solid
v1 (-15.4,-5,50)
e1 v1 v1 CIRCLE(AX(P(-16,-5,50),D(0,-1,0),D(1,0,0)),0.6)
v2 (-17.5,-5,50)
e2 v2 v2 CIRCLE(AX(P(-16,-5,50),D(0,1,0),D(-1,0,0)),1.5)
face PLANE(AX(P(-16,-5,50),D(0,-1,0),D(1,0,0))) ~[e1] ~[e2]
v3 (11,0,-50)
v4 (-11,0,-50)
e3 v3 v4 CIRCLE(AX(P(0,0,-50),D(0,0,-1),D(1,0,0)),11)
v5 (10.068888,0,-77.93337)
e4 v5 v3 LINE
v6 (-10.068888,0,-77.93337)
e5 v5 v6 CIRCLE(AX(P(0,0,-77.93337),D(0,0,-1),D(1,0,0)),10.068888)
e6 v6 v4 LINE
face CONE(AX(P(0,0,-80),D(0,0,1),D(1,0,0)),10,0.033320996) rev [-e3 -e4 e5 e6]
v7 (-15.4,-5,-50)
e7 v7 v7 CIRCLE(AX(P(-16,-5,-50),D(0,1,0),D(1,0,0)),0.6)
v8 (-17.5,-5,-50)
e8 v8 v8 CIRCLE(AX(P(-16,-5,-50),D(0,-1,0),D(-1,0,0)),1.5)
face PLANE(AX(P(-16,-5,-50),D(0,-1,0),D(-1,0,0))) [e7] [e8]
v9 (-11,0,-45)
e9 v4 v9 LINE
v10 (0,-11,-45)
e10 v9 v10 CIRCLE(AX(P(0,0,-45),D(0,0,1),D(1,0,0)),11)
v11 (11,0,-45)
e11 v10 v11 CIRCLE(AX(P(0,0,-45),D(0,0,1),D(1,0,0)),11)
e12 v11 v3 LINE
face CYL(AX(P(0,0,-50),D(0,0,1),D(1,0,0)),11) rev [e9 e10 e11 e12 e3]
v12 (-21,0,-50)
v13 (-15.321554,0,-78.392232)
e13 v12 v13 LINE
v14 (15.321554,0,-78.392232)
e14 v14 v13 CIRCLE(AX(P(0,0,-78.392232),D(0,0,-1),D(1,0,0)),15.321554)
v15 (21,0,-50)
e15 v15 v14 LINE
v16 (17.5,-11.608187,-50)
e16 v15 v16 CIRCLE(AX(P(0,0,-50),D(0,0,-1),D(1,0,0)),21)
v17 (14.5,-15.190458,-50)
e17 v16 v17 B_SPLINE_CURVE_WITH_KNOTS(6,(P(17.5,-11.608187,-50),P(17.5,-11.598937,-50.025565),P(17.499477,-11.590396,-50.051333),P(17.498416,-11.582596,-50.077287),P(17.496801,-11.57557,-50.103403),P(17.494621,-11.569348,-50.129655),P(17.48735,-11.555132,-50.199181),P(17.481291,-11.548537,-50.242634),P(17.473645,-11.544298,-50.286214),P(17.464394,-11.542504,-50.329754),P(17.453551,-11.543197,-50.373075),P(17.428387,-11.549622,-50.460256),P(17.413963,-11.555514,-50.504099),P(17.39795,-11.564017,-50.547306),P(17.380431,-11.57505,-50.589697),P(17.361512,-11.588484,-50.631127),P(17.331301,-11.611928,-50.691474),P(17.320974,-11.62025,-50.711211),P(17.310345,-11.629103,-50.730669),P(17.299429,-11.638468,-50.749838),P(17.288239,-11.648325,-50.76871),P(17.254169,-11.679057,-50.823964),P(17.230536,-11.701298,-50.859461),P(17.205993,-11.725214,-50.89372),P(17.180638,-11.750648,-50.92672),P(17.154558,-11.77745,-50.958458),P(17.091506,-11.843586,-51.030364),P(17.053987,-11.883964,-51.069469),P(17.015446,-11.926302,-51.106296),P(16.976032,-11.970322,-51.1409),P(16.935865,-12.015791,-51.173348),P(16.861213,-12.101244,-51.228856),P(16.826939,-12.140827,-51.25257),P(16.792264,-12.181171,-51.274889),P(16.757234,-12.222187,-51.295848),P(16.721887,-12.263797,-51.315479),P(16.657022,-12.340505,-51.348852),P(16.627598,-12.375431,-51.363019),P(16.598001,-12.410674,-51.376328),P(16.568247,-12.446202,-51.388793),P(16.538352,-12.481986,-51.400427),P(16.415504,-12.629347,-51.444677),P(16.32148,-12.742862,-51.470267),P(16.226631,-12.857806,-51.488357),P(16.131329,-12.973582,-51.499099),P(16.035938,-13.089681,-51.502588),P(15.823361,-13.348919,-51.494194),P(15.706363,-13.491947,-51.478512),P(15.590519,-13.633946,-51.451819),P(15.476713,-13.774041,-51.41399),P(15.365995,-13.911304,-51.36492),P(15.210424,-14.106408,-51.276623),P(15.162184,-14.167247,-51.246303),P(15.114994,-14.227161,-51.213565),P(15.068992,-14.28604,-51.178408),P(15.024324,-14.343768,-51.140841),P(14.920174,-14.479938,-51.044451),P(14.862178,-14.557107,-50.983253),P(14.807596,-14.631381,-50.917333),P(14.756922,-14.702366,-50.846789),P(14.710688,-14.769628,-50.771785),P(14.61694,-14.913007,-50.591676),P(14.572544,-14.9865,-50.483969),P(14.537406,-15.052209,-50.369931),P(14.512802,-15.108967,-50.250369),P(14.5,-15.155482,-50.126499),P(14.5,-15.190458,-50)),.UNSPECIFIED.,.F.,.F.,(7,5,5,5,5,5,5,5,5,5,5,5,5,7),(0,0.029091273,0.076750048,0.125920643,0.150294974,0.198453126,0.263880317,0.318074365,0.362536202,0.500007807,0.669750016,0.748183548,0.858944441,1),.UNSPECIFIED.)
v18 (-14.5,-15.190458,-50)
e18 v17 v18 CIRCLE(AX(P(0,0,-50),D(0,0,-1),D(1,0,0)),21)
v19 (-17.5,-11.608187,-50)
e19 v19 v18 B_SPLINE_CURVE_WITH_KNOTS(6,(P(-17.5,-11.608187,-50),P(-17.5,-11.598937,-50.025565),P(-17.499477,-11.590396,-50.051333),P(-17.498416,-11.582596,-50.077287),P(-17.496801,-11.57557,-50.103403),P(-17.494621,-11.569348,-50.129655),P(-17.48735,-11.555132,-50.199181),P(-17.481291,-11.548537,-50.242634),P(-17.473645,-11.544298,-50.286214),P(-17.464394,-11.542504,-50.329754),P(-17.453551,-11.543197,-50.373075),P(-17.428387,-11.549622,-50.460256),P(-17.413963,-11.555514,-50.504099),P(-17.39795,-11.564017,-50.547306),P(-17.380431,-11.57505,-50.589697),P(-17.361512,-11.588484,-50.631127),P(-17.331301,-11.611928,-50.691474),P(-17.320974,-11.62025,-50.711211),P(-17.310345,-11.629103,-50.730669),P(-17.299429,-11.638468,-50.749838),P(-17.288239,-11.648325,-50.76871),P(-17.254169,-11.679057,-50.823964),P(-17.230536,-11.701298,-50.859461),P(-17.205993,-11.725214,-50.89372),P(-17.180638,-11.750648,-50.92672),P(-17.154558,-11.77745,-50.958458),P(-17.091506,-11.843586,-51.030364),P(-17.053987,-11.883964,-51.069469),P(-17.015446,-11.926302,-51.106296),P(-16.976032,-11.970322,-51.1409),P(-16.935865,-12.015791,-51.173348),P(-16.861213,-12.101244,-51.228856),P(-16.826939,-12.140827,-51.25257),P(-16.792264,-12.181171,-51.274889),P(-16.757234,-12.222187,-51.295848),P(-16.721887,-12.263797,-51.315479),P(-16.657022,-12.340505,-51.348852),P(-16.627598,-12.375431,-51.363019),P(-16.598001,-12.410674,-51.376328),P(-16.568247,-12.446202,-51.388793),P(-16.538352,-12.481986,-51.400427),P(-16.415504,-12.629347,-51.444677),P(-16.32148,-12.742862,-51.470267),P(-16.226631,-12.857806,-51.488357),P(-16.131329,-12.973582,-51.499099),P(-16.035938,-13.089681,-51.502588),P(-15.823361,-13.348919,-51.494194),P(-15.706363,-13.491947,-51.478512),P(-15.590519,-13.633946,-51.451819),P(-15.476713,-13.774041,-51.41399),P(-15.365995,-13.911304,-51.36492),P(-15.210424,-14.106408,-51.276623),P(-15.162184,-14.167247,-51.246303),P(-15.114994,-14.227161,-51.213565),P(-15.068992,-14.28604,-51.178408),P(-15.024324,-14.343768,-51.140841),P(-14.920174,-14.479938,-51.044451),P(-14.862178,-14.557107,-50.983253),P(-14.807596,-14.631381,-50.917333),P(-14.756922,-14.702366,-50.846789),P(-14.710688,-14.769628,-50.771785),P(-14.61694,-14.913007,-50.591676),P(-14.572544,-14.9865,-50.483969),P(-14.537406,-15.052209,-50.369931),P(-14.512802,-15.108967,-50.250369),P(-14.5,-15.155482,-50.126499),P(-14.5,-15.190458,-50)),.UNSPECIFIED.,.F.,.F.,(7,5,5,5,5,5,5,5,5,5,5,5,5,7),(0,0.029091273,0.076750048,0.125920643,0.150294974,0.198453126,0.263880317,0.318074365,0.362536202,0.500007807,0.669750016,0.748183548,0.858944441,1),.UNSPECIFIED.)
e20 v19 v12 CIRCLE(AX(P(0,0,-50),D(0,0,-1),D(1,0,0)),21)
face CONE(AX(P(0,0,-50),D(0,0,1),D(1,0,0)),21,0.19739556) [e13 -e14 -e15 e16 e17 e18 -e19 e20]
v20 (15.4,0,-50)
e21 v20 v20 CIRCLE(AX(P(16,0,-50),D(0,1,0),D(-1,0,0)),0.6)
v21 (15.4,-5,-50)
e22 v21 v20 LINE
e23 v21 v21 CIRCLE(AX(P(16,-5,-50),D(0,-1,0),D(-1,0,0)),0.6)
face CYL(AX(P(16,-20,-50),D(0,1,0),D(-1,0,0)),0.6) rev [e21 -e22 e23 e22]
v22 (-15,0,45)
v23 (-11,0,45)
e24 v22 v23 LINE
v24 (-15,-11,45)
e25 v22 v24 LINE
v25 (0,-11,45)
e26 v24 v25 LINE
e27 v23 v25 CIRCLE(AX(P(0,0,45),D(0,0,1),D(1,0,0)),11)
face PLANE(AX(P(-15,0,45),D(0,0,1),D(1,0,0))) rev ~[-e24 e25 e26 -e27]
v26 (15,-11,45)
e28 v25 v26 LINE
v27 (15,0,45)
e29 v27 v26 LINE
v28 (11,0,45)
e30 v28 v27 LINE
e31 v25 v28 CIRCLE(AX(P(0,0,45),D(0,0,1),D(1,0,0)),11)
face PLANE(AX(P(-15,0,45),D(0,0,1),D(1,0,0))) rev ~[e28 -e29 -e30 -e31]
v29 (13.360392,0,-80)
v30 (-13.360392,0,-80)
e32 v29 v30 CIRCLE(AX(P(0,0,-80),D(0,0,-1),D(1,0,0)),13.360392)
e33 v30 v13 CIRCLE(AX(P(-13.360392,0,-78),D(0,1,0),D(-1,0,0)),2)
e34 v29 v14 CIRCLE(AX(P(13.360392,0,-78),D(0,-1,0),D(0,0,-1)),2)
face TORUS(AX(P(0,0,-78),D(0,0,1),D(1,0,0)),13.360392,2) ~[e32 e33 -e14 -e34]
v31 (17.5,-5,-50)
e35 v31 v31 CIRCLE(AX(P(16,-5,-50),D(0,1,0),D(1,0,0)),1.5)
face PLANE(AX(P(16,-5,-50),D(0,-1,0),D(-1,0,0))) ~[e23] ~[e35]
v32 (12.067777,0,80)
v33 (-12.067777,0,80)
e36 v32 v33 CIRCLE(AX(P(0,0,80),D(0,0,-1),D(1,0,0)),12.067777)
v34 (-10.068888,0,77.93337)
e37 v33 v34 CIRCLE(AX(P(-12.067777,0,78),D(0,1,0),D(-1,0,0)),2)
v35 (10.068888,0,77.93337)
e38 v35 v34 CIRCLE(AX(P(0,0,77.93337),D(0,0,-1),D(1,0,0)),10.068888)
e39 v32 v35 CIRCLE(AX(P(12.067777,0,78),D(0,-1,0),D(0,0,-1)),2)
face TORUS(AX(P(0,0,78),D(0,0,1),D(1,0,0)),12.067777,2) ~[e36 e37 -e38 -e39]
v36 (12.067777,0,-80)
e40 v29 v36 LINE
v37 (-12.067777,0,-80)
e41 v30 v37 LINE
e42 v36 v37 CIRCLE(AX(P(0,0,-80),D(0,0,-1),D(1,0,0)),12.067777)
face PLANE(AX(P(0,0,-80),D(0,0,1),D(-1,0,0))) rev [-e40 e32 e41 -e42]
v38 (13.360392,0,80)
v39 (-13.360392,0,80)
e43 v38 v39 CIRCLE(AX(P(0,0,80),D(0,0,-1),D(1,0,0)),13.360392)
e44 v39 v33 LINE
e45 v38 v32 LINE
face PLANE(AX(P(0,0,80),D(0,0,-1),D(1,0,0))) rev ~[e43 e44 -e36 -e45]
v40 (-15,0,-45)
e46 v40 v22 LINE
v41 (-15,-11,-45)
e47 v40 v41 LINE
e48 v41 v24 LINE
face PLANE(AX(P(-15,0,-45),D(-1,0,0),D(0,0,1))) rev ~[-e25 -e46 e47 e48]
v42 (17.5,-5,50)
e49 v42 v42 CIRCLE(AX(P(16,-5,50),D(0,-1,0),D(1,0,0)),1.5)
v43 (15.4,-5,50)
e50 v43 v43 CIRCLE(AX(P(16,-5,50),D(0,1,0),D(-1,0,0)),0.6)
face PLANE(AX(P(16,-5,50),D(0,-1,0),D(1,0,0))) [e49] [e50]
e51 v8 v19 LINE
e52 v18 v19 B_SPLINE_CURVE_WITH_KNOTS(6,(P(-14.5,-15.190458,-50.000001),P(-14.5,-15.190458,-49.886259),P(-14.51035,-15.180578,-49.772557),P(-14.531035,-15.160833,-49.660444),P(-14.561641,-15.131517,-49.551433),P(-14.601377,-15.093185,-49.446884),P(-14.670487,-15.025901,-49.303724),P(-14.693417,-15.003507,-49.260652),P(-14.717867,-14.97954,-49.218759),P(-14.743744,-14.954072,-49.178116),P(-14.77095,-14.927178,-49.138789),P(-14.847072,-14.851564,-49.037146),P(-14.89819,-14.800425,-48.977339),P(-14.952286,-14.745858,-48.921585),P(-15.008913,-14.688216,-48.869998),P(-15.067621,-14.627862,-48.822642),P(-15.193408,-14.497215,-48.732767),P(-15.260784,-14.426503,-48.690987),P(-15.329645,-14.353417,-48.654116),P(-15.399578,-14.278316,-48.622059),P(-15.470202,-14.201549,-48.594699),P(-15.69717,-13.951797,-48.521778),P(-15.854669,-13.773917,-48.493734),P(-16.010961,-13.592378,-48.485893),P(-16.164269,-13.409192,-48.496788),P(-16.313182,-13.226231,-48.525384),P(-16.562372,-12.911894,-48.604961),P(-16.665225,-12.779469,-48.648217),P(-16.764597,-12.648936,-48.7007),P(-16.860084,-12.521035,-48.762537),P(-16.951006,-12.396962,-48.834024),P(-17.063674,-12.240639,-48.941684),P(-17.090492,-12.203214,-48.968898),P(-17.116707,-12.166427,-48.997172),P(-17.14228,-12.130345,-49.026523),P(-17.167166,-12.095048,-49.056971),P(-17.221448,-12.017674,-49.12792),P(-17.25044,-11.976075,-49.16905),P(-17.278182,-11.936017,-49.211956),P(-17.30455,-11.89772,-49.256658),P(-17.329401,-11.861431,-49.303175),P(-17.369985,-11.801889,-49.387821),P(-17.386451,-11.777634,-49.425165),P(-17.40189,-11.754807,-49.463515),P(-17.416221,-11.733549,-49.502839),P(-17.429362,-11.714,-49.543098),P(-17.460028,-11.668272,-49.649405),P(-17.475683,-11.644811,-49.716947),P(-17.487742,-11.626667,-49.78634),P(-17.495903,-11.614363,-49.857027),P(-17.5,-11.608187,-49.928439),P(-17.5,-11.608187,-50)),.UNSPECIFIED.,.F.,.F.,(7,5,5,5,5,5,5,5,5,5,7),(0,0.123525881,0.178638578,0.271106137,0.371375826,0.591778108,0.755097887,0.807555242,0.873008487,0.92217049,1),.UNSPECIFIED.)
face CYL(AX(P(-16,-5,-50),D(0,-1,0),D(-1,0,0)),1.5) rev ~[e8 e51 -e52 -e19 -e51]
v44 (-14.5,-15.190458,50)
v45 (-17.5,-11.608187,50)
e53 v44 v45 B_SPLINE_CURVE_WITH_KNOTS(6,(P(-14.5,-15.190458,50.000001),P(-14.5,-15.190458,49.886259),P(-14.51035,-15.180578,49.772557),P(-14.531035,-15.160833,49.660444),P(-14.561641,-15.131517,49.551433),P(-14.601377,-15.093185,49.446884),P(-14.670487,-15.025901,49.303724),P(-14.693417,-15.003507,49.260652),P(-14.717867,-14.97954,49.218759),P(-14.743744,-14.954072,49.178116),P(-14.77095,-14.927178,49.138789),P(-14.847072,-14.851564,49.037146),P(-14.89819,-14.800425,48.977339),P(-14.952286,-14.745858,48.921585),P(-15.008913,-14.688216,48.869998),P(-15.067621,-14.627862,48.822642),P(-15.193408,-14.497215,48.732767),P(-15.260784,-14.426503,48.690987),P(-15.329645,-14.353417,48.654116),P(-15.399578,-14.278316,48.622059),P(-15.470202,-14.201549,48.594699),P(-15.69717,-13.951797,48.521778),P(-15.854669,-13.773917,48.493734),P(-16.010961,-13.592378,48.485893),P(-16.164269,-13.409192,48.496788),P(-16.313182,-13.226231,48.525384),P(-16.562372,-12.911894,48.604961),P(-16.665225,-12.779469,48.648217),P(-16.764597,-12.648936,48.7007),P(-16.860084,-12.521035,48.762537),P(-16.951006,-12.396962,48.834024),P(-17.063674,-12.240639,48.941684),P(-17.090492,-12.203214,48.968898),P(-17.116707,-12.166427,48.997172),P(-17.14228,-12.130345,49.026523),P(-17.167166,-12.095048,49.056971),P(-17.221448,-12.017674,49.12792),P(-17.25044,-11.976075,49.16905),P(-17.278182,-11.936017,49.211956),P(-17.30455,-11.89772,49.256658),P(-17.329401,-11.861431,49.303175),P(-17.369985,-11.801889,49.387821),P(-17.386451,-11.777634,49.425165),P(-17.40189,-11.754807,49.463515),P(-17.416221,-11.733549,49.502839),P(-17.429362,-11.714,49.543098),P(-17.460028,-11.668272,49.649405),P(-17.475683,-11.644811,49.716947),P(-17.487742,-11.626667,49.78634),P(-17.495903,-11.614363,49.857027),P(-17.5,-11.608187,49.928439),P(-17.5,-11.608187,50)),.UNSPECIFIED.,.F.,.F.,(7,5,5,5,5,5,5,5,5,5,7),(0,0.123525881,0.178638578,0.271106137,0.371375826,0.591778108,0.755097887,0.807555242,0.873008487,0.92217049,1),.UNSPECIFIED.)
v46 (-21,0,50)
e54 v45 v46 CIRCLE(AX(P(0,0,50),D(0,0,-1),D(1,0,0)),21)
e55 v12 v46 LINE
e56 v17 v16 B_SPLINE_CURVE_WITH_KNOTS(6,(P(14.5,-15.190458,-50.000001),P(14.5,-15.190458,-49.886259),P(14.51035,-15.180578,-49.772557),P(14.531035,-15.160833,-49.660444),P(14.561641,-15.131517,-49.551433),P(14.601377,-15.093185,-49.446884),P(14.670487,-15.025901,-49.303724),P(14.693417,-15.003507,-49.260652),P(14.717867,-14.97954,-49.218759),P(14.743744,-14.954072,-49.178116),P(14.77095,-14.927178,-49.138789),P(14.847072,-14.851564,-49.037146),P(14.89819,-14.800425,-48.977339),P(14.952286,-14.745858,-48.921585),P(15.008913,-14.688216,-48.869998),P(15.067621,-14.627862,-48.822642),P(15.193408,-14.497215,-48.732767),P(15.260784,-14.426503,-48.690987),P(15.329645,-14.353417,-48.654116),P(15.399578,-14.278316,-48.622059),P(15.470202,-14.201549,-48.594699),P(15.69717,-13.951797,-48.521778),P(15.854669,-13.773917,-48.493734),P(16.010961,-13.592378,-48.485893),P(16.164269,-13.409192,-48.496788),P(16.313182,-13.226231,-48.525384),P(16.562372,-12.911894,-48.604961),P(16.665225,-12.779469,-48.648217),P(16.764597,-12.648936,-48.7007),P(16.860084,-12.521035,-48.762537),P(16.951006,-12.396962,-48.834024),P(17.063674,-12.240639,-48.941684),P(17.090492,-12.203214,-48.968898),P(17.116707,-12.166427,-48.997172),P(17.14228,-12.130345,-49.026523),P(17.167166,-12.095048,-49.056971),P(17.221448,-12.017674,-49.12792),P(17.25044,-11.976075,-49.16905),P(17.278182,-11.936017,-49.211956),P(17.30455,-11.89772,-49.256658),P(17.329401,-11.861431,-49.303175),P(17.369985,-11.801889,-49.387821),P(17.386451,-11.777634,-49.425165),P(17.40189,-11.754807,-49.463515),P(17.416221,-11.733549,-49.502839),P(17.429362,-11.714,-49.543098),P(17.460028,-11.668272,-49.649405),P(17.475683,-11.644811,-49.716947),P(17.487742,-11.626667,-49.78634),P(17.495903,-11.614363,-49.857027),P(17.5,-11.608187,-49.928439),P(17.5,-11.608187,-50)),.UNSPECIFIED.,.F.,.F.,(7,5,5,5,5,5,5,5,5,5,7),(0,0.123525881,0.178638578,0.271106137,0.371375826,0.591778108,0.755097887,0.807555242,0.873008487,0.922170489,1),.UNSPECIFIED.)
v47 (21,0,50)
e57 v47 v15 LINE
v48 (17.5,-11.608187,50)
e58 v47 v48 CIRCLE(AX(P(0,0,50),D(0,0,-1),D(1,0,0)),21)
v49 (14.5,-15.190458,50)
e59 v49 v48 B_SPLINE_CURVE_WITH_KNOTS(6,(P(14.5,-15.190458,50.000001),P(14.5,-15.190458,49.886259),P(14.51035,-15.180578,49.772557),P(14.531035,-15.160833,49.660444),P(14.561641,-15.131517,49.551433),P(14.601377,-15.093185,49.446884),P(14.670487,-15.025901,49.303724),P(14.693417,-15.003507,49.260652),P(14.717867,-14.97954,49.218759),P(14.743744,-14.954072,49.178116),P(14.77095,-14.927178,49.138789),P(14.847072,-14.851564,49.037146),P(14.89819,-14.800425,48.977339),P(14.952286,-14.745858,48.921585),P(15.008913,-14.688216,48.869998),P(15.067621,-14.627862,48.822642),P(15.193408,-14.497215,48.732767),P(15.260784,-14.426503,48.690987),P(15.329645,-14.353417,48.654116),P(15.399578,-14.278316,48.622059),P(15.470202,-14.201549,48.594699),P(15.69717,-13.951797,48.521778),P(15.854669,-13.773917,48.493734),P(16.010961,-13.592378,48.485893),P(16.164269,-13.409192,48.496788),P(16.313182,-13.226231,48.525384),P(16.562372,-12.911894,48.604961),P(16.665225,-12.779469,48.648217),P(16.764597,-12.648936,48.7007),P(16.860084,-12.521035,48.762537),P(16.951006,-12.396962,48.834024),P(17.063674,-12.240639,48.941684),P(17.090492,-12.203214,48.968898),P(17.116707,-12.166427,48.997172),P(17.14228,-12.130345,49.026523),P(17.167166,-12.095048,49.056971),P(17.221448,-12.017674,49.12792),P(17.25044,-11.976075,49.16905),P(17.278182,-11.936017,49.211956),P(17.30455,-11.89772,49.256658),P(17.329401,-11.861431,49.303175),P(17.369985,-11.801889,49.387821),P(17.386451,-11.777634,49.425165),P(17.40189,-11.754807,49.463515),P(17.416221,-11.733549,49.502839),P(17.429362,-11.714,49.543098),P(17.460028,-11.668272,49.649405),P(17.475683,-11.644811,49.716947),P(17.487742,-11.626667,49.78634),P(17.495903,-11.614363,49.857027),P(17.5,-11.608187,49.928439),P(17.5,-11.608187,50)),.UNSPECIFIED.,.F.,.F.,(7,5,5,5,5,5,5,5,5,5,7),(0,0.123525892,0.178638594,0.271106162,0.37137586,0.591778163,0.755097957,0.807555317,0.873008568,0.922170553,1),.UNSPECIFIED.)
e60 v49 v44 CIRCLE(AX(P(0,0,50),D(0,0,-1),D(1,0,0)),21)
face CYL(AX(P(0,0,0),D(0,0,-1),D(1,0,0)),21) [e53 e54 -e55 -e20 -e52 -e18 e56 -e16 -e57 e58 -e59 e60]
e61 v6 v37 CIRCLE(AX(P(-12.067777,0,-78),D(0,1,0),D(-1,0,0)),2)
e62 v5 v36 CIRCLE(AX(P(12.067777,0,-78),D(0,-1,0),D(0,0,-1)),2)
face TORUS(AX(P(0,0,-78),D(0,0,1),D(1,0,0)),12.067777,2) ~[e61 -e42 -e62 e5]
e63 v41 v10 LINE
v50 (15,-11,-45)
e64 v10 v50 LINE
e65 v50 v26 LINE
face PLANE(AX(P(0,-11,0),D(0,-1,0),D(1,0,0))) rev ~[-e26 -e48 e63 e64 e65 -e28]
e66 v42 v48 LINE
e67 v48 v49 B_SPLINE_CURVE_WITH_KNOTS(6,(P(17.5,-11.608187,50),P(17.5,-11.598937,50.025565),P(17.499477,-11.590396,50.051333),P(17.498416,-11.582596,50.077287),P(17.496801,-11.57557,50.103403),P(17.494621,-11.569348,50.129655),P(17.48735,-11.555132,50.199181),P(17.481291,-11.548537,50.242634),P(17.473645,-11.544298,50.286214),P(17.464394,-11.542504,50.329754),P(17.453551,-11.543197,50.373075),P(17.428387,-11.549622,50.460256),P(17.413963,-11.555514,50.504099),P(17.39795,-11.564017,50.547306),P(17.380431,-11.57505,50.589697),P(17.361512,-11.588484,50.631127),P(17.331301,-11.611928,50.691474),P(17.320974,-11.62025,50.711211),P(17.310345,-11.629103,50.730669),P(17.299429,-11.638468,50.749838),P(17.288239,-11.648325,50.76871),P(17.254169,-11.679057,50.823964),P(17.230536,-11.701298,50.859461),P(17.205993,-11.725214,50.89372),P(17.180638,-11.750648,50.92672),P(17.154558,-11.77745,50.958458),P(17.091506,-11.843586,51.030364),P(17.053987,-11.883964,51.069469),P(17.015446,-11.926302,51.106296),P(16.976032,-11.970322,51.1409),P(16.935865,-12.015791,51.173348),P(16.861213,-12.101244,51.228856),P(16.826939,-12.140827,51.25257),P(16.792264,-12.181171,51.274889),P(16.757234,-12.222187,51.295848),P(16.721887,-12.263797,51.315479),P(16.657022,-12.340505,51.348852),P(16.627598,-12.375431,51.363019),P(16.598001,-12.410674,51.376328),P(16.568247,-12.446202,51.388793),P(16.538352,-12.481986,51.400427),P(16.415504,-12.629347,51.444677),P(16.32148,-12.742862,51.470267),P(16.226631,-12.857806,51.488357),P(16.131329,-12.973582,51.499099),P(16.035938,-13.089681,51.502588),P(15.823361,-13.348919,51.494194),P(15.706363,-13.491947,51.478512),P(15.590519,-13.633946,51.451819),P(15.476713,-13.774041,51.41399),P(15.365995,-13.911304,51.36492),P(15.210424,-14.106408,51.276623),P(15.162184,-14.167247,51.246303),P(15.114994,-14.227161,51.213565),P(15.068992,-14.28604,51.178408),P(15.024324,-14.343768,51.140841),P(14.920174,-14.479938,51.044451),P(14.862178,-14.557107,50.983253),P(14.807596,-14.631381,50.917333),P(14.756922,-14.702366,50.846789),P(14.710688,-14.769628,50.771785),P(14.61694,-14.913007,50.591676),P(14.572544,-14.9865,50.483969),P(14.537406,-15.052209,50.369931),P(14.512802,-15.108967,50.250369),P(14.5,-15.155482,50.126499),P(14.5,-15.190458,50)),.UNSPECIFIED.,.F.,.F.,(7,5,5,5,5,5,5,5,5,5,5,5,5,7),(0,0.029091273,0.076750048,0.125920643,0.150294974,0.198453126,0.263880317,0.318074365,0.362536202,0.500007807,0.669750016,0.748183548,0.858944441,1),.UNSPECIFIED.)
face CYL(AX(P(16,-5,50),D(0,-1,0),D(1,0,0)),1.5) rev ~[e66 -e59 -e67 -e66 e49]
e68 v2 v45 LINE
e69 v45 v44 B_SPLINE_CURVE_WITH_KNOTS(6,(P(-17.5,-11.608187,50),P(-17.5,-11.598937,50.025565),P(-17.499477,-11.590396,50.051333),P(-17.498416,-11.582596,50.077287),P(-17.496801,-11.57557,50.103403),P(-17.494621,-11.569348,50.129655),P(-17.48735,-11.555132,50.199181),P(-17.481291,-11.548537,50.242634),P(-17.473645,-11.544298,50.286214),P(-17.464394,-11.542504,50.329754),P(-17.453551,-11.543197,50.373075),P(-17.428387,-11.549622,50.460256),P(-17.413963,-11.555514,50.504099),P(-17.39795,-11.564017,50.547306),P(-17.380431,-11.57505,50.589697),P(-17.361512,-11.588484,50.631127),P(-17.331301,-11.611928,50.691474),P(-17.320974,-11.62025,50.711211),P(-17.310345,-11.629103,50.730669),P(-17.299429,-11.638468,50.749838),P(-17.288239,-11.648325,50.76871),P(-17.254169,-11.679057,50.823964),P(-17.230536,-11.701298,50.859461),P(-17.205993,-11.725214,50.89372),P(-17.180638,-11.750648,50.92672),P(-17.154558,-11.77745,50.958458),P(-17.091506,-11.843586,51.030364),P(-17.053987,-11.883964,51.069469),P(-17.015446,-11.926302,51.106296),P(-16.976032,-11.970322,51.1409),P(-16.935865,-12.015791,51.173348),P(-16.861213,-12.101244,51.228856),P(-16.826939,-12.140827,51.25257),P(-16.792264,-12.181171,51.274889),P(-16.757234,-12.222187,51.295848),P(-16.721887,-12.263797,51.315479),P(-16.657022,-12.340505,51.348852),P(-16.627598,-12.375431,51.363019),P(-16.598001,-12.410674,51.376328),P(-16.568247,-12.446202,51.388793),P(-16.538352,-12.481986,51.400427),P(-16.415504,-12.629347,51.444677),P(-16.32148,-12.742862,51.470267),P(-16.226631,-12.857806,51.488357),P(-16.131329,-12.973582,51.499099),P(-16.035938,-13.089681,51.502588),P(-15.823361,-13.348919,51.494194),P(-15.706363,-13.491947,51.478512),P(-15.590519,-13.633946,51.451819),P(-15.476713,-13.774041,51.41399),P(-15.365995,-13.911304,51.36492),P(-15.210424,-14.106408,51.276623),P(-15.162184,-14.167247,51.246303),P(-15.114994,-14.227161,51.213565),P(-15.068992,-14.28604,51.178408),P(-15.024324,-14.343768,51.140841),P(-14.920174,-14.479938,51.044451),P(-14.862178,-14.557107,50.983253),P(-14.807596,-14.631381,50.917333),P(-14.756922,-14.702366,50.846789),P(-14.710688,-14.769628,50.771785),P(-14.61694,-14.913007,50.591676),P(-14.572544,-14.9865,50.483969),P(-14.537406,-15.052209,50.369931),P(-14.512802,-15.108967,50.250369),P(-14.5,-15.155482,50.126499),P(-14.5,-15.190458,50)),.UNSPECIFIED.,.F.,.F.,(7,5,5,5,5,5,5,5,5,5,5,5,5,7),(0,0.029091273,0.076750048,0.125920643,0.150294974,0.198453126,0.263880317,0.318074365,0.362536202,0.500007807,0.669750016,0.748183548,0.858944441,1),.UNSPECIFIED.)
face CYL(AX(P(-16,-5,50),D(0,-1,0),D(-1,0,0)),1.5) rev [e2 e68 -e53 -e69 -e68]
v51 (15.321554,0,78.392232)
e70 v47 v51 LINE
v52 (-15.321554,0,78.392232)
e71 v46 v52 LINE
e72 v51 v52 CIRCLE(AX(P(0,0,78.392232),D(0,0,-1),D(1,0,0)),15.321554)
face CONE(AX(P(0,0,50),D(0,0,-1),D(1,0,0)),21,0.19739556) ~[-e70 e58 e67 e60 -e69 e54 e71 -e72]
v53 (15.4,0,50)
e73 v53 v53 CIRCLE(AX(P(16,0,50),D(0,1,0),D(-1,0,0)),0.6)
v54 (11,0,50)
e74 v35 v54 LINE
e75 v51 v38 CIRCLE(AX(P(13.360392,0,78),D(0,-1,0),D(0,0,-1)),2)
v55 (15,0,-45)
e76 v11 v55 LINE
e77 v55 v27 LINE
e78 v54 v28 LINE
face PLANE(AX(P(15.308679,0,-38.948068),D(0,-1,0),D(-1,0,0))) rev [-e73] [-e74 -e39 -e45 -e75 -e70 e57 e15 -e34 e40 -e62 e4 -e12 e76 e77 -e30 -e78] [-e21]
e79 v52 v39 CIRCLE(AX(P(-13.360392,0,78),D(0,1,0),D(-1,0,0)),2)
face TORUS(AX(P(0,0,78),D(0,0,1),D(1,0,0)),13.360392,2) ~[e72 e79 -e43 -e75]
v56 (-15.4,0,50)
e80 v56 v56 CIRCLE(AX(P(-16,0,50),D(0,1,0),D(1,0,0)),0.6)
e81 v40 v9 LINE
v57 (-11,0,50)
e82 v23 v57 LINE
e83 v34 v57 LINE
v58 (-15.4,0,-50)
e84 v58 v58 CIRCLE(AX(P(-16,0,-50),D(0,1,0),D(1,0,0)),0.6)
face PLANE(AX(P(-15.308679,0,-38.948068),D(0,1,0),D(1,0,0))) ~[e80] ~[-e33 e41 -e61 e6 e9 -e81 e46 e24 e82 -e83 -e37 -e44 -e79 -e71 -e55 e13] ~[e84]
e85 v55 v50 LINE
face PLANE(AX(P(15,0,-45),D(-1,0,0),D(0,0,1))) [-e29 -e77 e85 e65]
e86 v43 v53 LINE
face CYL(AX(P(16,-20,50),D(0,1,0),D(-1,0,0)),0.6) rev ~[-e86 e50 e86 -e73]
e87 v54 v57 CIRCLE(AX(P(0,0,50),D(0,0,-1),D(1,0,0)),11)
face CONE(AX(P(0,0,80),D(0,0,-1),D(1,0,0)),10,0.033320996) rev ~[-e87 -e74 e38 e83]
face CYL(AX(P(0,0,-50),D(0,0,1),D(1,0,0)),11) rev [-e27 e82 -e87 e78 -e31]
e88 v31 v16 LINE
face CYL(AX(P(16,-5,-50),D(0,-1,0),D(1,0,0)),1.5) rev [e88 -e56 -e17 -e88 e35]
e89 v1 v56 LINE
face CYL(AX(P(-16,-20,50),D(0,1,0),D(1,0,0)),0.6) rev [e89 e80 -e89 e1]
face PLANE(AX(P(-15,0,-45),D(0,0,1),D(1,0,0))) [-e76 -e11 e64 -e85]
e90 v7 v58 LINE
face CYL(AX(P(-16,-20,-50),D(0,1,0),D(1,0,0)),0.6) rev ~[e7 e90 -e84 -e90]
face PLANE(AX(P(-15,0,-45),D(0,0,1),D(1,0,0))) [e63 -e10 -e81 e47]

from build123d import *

# Parameters (mm, degrees)
REVOLUTION_ANGLE   = -180
SKETCH002_W        = 30
SKETCH002_H        = 90
POCKET_DEPTH       = 11
HOLE_D             = 1.2
HOLE_DEPTH         = 32
HOLE_CBORE_D       = 3
HOLE_CBORE_DEPTH   = 15
POLARPATTERN_COUNT = 4
FILLET_R           = 2


with BuildPart() as part:
    # Sketch → Revolution (revolve)
    with BuildSketch(Plane.XZ):
        Polygon((10, 80), (11, 50), (11, 0), (21, 0), (21, 50), (15, 80), align=None)
    revolution = revolve(axis=Axis((0, 0, 0), (0, 0, 1)), revolution_arc=REVOLUTION_ANGLE)

    # Mirrored003: Revolution across XY
    add(revolution.mirror(Plane.XY))

    # Sketch002 → Pocket (cut)
    with BuildSketch(Plane.XZ):
        Rectangle(SKETCH002_W, SKETCH002_H)
    extrude(amount=POCKET_DEPTH, mode=Mode.SUBTRACT)

    # Hole
    with Locations(Plane.XZ.offset(20)):
        with Locations((16, 50)):
            hole = CounterBoreHole(HOLE_D / 2, HOLE_CBORE_D / 2, HOLE_CBORE_DEPTH, depth=HOLE_DEPTH)

    # PolarPattern: Hole ×4 about axis
    polarpattern_axis = Axis((0, 0, 0), (0, 1, 0))
    for i in range(1, POLARPATTERN_COUNT):
        add(hole.rotate(polarpattern_axis, i * 360 / POLARPATTERN_COUNT), mode=Mode.SUBTRACT)

    # Mirrored: Hole across XY
    add(hole.mirror(Plane.XY), mode=Mode.SUBTRACT)

    # Mirrored004: Hole across Sketch003 V_Axis
    add(hole.mirror(Plane(origin=(0, -20, 0), x_dir=(0, -1, 0), z_dir=(1, 0, 0))), mode=Mode.SUBTRACT)

    # Fillet
    fillet_edges = [part.edges().sort_by_distance(p)[0] for p in [
        (0, -10, 80),
        (0, -15, 80),
        (0, -10, -80),
        (0, -15, -80),
    ]]
    fillet(fillet_edges, radius=FILLET_R)


solid = part.part
